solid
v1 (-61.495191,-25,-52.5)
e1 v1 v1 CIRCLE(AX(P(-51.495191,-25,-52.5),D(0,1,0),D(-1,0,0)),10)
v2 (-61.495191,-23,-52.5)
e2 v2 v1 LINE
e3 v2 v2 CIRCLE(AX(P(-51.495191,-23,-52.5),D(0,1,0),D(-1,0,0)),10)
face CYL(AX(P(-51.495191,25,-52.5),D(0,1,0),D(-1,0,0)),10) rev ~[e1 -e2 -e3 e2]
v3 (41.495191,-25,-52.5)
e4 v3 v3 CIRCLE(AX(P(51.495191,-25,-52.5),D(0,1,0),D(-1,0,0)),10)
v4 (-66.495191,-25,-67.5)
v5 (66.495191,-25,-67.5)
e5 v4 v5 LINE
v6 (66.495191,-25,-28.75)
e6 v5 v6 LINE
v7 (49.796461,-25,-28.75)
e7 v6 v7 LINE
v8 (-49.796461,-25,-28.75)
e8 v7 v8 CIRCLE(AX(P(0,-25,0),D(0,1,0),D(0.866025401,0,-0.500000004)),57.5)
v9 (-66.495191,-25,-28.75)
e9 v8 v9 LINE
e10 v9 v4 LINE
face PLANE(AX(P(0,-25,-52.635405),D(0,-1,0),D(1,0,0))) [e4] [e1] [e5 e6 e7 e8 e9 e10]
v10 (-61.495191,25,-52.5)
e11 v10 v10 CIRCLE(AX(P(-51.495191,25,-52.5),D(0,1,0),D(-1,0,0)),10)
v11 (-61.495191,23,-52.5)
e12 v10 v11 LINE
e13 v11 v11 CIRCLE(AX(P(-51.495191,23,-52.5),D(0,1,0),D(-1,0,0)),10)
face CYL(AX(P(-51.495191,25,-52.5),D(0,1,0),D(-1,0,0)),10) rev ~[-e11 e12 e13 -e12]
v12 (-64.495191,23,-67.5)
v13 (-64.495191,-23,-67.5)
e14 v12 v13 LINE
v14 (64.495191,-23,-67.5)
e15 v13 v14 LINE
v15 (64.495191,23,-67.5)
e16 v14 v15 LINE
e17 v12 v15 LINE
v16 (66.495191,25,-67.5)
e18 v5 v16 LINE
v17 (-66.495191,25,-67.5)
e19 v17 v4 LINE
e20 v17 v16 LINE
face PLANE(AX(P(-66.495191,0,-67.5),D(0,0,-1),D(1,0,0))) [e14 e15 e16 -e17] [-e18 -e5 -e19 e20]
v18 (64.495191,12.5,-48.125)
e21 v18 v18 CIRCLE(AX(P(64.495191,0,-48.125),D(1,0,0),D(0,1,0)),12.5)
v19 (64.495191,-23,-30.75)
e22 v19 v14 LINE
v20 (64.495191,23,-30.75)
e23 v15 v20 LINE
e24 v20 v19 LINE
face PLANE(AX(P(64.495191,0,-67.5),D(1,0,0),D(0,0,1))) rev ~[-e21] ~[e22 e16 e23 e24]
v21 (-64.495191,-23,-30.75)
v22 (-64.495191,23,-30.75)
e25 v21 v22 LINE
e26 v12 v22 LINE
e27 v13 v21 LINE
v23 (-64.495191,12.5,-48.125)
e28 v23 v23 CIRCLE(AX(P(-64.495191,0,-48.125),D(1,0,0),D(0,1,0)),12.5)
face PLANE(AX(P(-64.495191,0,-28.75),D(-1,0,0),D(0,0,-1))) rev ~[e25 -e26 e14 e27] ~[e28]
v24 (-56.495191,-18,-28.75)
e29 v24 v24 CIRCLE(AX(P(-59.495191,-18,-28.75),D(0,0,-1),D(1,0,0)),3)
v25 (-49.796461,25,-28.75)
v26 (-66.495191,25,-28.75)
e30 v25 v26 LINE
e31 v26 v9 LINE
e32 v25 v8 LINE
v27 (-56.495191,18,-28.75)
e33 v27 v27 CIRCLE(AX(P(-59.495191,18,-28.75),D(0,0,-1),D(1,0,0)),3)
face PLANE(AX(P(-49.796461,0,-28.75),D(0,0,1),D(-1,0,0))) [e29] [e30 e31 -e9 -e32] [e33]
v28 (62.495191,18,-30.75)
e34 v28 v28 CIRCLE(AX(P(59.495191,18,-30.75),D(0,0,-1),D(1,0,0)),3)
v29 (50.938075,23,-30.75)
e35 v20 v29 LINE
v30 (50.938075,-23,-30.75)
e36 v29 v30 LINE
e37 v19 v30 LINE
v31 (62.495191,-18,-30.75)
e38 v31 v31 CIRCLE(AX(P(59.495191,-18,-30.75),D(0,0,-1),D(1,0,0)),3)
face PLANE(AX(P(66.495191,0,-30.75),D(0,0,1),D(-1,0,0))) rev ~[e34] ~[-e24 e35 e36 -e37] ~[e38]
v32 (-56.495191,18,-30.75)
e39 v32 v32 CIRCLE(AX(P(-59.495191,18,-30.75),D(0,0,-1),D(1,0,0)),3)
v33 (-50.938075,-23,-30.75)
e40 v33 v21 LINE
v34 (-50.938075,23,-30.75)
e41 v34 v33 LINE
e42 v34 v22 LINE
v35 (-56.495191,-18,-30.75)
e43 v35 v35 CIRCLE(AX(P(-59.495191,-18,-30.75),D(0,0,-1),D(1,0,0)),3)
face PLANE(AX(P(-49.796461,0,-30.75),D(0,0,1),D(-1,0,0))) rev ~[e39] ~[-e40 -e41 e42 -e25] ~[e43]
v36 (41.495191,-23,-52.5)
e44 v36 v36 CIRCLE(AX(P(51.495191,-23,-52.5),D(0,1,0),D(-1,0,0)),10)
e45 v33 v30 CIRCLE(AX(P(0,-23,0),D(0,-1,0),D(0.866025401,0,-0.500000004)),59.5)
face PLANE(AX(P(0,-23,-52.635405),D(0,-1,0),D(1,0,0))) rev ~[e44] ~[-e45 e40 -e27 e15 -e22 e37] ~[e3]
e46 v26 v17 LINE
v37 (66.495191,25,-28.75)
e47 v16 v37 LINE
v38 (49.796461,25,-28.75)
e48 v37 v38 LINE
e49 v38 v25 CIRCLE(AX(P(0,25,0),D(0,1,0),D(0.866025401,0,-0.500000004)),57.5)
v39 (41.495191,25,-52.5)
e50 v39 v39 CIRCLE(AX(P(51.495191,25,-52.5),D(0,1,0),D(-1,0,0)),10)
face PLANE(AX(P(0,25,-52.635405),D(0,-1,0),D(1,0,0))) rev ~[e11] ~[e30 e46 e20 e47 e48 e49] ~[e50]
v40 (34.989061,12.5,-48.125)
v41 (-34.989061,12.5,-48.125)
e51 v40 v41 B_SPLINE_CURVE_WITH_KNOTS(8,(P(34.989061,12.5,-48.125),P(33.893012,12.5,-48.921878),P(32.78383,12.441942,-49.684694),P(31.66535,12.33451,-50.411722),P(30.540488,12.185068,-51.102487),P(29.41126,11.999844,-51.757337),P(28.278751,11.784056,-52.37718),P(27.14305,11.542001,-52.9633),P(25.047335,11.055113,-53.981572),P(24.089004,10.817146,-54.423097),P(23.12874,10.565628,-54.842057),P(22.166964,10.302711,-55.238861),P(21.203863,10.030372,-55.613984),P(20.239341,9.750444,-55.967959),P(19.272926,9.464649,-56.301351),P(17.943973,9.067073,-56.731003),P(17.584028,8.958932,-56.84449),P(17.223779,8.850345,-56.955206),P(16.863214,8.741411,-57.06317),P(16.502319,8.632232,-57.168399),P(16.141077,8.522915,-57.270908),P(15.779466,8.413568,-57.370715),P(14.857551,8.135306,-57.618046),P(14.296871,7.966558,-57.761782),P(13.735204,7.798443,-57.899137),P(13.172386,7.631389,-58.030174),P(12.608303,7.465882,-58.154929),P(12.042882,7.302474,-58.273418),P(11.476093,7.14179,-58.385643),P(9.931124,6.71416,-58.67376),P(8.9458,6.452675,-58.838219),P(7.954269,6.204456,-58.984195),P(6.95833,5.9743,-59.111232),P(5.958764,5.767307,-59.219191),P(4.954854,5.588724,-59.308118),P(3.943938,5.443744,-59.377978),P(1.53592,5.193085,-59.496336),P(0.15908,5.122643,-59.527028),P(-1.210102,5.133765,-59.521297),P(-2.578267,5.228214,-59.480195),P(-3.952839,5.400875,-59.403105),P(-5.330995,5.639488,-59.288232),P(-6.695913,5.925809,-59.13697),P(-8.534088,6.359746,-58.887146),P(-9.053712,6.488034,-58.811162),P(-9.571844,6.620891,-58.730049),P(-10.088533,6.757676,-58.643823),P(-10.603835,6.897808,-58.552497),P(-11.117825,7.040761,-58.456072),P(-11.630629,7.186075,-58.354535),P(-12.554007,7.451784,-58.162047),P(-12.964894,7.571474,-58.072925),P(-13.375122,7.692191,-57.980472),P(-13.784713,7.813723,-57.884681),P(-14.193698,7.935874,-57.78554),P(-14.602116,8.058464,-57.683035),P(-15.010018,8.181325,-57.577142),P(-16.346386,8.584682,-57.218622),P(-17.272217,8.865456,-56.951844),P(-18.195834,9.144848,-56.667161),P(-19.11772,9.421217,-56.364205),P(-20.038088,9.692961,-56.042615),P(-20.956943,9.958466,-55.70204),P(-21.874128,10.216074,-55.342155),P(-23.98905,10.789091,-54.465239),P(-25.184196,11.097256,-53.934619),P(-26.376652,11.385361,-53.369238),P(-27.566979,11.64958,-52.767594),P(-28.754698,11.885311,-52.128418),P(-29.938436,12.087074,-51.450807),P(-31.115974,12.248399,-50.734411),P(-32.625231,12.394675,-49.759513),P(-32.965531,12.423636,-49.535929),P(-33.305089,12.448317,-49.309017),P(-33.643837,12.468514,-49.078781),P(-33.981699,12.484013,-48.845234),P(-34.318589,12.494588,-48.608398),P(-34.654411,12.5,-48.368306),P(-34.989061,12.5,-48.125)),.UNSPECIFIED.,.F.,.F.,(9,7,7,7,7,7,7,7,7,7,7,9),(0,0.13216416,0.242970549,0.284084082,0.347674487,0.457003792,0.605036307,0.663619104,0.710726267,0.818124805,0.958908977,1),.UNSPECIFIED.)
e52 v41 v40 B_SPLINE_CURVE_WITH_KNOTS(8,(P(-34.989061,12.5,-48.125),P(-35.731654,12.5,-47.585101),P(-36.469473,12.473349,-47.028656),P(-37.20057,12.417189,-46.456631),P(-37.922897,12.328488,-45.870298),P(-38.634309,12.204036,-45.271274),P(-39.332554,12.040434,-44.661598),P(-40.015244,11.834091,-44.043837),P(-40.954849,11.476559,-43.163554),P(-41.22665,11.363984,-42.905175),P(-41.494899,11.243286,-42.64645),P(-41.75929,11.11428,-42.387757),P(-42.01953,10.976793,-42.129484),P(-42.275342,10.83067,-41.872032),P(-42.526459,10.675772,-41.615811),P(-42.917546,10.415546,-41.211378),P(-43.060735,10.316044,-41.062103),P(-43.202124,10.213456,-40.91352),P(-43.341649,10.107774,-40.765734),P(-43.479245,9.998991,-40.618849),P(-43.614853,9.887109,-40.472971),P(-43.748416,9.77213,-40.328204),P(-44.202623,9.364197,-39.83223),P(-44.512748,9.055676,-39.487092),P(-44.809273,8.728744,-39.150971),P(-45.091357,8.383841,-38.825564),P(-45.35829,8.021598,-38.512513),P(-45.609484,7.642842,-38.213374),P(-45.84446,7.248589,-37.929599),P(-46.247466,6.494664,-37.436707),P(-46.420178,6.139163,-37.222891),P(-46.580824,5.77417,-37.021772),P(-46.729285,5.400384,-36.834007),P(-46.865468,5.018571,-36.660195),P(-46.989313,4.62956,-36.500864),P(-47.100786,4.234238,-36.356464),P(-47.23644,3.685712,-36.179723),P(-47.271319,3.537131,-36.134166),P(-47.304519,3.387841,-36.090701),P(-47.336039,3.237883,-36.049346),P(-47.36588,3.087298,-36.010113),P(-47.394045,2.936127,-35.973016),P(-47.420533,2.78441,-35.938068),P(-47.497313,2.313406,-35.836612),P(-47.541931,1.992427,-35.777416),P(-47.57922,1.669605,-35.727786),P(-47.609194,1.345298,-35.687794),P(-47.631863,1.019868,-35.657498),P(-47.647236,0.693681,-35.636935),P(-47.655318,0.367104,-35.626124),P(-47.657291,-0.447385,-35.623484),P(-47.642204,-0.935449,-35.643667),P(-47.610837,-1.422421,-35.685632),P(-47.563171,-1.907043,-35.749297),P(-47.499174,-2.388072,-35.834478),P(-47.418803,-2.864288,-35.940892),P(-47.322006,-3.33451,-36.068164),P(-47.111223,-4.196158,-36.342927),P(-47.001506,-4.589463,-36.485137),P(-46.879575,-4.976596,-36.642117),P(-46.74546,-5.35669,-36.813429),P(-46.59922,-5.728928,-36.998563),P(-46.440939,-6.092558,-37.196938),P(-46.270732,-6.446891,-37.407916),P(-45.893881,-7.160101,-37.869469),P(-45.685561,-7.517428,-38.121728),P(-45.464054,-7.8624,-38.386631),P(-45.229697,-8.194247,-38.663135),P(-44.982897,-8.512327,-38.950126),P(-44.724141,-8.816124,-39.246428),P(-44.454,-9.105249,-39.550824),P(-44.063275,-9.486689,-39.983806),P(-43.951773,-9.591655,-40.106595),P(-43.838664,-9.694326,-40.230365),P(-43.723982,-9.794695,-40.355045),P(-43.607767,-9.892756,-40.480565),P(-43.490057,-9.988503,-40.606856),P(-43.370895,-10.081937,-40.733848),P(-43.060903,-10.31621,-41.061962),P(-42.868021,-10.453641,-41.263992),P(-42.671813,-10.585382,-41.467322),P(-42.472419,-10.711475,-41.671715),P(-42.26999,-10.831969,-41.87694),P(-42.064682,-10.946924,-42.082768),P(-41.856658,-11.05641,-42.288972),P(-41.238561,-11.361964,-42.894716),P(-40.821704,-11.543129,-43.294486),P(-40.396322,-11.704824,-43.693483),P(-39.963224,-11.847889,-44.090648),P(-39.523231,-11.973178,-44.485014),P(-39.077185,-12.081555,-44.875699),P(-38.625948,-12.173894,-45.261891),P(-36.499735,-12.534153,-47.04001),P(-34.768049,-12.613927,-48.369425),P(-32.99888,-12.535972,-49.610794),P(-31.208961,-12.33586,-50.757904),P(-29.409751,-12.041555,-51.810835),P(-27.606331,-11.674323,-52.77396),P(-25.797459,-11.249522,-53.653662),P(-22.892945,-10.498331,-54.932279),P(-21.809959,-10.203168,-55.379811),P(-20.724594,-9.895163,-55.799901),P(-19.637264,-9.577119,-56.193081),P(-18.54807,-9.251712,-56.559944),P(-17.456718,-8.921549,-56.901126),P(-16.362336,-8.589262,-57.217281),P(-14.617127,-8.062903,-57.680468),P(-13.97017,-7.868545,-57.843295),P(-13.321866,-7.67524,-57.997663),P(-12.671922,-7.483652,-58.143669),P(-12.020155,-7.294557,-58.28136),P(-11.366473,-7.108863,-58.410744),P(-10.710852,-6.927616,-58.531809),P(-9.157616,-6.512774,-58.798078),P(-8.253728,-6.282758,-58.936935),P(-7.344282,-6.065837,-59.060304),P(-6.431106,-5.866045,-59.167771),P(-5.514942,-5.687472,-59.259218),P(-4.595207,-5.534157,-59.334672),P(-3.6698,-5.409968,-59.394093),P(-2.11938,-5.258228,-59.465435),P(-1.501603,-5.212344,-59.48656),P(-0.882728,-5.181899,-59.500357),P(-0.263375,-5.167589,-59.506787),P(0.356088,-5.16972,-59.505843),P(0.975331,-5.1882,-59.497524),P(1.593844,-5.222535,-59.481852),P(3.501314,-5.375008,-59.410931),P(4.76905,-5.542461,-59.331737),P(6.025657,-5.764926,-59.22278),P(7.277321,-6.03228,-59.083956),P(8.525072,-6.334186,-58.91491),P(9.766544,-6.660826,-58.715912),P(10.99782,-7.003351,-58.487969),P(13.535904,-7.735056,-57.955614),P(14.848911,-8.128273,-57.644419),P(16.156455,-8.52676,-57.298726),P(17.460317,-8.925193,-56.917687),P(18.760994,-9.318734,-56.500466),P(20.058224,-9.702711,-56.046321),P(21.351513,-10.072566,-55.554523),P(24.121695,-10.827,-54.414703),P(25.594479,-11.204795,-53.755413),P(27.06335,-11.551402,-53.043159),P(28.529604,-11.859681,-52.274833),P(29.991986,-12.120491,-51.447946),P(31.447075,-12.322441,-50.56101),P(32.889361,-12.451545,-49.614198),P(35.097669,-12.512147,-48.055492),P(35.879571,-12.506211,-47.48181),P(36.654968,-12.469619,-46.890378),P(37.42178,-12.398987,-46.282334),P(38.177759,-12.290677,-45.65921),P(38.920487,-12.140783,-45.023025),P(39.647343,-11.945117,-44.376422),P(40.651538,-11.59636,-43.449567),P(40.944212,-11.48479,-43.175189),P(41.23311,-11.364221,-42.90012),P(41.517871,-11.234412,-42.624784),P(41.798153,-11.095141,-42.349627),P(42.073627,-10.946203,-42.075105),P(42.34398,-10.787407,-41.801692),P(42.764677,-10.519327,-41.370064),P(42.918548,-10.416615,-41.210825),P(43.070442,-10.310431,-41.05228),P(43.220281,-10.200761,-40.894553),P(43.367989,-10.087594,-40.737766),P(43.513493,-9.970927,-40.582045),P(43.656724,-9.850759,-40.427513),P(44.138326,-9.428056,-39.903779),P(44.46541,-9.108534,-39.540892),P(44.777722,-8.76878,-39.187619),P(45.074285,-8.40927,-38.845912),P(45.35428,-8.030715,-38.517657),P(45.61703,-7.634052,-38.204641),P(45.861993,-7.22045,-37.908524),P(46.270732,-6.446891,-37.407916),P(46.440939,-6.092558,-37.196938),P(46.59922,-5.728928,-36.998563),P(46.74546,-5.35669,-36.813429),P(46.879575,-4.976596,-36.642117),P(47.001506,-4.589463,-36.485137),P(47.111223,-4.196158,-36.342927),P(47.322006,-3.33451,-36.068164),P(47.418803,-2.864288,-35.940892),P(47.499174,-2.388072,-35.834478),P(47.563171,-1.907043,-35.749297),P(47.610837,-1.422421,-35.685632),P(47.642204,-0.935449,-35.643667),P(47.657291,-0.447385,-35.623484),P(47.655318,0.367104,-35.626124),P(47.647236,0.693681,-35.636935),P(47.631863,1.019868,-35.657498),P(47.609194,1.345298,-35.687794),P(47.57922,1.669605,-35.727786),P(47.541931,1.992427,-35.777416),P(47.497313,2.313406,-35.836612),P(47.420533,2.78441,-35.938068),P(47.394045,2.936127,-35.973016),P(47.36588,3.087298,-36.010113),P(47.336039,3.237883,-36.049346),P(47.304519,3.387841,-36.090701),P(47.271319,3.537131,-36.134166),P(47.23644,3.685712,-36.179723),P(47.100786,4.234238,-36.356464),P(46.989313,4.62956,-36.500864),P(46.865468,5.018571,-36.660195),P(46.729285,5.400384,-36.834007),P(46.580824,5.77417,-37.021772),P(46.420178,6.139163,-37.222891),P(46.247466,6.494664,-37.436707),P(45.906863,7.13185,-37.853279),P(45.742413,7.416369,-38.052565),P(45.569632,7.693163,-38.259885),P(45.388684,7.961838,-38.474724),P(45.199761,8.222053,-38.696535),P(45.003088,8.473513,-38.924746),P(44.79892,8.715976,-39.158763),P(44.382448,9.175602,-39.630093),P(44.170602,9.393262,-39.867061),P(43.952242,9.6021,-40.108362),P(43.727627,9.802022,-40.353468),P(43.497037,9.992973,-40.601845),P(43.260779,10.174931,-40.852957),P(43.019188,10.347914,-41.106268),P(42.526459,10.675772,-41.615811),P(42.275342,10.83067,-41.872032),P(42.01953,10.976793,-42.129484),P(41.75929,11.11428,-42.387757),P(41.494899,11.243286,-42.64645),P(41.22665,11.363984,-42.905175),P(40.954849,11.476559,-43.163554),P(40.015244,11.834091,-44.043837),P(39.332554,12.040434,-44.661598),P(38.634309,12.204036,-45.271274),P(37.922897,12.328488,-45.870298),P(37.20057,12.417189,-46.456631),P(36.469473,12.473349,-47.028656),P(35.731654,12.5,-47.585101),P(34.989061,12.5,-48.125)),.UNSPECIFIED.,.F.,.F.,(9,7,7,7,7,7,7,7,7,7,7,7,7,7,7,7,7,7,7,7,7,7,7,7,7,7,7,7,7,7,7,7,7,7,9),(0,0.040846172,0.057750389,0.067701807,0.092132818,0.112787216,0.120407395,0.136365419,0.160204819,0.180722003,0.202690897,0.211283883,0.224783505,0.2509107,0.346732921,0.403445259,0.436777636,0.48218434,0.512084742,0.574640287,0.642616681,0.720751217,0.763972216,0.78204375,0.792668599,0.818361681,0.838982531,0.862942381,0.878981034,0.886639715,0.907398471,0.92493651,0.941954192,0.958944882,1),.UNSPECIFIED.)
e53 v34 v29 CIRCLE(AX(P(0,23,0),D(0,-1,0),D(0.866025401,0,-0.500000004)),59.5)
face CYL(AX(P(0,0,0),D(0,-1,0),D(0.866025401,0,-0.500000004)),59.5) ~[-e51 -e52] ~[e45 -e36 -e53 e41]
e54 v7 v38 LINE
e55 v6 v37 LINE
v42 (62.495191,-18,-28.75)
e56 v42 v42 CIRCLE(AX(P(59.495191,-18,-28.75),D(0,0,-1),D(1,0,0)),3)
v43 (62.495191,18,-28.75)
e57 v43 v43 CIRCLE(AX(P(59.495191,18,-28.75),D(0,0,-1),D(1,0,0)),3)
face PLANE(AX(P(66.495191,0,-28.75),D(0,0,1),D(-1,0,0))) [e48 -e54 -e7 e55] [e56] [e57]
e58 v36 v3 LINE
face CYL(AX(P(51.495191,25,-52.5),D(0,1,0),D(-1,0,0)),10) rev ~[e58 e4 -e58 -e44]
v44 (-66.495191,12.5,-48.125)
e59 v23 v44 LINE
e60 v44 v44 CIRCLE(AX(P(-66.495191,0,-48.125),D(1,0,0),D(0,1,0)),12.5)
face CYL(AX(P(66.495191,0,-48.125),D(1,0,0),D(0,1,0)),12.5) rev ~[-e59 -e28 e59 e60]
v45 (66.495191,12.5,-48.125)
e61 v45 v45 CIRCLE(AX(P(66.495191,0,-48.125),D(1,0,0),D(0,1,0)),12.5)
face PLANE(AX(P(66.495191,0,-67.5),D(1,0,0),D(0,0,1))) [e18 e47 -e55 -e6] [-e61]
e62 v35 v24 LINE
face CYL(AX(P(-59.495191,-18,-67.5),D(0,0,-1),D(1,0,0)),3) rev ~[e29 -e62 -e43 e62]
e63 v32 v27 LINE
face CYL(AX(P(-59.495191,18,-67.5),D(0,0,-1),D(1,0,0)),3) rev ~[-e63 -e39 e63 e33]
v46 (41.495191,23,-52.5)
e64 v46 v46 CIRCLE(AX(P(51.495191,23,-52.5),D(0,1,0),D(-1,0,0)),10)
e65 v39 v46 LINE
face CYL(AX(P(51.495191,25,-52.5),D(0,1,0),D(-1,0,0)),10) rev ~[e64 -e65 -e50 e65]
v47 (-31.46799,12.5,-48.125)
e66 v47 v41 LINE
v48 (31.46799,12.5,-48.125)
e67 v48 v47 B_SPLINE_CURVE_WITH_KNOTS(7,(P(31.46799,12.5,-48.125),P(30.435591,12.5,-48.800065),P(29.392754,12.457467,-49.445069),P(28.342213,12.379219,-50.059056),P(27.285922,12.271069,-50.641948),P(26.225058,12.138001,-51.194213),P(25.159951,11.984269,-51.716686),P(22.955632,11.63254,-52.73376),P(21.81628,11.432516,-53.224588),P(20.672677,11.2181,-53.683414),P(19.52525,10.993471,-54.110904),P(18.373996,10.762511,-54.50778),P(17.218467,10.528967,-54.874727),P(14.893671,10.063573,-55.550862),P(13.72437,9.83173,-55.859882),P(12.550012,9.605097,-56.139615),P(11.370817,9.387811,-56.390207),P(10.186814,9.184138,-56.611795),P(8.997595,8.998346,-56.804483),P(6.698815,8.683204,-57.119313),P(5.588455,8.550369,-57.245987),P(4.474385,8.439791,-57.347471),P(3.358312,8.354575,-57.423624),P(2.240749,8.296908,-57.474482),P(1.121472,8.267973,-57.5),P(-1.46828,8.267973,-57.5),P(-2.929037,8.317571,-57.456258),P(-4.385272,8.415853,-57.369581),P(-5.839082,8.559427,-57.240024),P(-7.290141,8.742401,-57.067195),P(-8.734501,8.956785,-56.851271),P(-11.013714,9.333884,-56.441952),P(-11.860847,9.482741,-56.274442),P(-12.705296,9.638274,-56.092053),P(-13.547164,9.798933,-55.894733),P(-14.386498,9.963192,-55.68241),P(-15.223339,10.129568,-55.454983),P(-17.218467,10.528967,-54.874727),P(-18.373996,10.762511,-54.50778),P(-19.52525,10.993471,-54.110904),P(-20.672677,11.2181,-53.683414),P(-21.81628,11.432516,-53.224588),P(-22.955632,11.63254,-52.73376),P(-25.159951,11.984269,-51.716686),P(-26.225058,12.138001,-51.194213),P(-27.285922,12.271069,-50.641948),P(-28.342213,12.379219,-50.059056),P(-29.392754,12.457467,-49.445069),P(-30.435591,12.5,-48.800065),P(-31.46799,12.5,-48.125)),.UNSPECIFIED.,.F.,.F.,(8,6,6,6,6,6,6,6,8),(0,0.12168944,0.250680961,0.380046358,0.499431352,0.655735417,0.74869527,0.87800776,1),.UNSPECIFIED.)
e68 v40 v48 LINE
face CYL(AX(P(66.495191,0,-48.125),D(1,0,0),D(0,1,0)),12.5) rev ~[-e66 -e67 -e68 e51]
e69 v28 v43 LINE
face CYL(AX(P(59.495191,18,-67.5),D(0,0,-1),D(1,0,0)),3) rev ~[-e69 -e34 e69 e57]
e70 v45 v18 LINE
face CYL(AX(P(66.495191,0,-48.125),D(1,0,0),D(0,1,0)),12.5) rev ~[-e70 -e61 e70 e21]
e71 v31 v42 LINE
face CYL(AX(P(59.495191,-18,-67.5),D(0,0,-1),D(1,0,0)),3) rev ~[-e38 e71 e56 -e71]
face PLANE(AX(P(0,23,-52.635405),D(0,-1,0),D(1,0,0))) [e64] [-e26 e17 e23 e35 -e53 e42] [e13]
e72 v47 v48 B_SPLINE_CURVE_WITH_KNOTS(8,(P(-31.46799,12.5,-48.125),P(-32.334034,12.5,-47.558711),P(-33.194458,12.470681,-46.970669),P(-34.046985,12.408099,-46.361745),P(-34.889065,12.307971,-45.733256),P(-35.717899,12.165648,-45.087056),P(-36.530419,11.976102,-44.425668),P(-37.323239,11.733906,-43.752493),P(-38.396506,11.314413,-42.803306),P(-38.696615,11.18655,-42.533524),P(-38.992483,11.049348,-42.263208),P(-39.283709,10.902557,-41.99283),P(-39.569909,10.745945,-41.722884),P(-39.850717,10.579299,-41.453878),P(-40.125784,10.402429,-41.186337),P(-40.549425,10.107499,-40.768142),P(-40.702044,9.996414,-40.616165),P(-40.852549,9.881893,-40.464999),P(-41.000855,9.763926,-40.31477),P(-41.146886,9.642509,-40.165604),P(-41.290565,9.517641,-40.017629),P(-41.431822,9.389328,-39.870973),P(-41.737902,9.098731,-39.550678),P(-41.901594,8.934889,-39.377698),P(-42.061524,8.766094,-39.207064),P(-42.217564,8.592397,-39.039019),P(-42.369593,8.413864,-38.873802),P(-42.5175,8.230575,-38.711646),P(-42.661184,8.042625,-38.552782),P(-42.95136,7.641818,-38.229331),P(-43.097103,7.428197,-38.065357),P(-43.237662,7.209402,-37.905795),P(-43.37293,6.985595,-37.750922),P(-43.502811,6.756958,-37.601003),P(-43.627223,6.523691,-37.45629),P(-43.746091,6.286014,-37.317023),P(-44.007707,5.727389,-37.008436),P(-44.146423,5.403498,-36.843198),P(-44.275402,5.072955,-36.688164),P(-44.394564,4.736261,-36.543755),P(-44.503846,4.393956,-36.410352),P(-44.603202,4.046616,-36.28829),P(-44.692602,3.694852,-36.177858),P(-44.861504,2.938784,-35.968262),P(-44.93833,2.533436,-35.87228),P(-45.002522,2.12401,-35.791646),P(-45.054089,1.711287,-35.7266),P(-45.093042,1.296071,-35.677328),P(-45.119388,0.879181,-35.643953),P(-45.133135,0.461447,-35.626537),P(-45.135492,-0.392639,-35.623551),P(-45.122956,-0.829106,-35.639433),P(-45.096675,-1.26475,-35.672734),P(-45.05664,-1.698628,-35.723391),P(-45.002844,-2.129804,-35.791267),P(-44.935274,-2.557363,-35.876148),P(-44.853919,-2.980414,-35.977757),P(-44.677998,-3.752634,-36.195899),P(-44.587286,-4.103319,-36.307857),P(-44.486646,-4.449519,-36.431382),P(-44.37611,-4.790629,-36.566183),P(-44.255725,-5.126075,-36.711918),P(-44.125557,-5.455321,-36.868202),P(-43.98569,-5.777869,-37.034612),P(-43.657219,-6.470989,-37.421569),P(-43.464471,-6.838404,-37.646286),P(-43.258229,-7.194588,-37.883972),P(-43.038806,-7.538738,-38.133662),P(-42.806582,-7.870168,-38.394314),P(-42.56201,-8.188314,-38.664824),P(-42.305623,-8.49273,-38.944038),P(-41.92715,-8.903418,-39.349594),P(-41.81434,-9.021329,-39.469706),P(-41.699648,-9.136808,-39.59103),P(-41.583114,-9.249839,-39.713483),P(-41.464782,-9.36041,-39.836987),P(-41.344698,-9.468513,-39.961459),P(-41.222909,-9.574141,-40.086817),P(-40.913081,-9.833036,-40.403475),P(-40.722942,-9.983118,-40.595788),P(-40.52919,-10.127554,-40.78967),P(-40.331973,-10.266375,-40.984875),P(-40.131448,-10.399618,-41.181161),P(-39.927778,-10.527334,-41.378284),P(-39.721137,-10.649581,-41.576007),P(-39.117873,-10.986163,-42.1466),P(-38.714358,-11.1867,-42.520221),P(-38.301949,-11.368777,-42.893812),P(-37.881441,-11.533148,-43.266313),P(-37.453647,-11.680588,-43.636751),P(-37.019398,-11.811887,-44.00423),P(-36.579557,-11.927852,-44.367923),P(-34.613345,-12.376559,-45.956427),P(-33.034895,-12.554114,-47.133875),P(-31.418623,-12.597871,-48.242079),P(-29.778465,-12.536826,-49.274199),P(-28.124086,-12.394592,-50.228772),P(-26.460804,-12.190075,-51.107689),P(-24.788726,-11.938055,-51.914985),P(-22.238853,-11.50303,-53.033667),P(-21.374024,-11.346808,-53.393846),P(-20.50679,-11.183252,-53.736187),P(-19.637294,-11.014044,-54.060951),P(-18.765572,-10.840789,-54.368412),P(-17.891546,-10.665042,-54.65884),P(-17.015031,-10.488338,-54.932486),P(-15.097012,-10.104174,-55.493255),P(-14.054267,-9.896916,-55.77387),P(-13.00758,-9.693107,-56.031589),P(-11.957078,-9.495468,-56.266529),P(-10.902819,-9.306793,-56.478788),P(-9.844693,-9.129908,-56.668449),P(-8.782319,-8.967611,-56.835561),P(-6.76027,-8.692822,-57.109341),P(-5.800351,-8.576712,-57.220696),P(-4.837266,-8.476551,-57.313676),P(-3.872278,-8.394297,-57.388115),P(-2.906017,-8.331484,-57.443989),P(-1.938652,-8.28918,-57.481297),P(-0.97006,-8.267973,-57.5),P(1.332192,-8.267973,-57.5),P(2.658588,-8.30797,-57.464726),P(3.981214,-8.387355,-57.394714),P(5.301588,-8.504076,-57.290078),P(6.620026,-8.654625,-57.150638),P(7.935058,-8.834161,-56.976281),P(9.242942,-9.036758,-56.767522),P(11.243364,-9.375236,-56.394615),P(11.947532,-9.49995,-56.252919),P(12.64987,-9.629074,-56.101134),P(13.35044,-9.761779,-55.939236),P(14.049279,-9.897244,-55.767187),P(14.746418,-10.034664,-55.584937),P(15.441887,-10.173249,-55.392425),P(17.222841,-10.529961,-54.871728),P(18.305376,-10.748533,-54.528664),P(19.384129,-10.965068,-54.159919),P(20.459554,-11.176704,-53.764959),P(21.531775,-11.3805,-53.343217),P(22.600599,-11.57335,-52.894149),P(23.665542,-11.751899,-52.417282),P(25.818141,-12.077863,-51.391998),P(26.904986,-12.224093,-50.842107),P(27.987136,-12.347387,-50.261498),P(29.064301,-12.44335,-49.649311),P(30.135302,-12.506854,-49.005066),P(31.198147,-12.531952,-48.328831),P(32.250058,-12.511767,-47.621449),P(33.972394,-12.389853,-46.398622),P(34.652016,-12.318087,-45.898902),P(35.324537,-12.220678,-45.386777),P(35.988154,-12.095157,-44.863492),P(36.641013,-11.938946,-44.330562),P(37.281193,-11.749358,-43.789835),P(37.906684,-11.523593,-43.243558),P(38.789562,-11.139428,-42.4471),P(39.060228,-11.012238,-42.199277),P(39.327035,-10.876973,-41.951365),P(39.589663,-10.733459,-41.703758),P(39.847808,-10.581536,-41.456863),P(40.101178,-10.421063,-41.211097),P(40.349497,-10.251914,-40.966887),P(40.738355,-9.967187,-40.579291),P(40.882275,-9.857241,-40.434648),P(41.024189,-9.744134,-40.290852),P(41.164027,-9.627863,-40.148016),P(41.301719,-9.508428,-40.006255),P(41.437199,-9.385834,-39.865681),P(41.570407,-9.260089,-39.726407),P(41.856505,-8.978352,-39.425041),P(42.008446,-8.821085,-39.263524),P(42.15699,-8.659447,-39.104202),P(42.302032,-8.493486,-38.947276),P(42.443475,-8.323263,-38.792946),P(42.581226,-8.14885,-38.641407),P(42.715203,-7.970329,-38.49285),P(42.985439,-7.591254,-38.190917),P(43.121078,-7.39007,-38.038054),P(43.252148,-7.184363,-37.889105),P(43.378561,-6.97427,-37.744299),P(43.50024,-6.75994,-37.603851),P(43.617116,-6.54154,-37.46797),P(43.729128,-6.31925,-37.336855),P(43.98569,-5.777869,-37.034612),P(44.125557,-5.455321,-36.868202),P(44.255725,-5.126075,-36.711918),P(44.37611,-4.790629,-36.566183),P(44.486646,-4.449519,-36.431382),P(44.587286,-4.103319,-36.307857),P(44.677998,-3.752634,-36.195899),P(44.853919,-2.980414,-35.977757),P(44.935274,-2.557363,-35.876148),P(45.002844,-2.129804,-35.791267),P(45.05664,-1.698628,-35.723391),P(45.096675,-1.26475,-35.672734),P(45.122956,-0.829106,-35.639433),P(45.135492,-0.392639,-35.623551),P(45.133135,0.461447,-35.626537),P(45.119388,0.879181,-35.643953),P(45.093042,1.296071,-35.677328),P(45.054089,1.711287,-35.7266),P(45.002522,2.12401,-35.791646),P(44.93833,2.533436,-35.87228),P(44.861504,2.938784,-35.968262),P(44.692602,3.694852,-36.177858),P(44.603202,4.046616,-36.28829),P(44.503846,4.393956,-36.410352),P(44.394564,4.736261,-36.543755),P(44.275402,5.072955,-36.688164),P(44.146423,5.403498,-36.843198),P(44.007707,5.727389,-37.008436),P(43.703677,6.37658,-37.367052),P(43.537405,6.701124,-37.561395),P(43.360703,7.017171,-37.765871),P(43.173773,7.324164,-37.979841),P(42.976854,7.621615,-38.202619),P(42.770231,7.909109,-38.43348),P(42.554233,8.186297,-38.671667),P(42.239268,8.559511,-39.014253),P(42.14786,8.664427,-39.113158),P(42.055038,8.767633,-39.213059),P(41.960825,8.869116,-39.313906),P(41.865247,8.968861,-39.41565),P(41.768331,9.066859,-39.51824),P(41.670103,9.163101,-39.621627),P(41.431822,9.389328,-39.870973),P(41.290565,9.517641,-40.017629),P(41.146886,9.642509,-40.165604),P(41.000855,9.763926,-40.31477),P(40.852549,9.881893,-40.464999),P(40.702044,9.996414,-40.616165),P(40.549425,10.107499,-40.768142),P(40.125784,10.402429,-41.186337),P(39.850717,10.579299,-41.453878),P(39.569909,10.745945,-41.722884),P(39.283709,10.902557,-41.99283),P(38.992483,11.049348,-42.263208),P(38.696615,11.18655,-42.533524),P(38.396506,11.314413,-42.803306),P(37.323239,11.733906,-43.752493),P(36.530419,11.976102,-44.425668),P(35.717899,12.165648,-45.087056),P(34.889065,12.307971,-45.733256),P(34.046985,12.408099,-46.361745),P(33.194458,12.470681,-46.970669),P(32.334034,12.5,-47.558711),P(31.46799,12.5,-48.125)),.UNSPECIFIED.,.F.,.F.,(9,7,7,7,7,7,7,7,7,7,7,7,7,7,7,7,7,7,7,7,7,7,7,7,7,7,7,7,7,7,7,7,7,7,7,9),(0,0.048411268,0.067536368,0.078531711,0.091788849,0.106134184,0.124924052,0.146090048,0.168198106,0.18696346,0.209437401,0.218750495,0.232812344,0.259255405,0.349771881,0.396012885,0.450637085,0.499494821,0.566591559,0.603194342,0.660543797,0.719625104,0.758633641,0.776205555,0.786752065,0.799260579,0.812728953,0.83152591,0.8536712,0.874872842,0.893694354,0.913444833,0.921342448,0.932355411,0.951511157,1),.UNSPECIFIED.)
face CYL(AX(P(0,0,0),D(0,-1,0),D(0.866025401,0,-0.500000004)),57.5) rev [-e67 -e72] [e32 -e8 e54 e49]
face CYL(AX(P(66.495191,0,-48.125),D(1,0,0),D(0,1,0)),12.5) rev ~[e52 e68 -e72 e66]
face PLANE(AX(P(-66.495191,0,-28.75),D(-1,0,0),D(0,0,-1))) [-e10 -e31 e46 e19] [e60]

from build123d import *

# Parameters (mm, degrees)
F1_DEPTH      = 25
F1_DEPTH_BACK = 25
F2_T          = -2
F3_R          = 3
F4_DEPTH      = 73
F6_R          = 12.5
F7_DEPTH      = 142.6
F8_R          = 10
F9_DEPTH      = 5
F9_DEPTH_BACK = 60


with BuildPart() as f1:
    # F0 (on Front) → F1 (new body, two sides)
    with BuildSketch(Plane.XZ) as f1_sk:
        with BuildLine():
            ThreePointArc((49.796461, -28.75), (0, -57.5), (-49.796461, -28.75))
            Line((-49.796461, -28.75), (-61.038751, -28.75))
            Line((-61.038751, -28.75), (-66.495191, -28.75))
            Line((-66.495191, -28.75), (-66.495191, -67.5))
            Line((-66.495191, -67.5), (-49.796461, -67.5))
            Line((-49.796461, -67.5), (-43.30127, -67.5))
            Line((-43.30127, -67.5), (0, -67.5))
            Line((0, -67.5), (43.30127, -67.5))
            Line((43.30127, -67.5), (66.495191, -67.5))
            Line((66.495191, -67.5), (66.495191, -28.75))
            Line((66.495191, -28.75), (49.796461, -28.75))
        make_face()
    extrude(amount=F1_DEPTH)
    extrude(f1_sk.sketch, amount=-F1_DEPTH_BACK)

    # F2
    f2_openings = [f1.faces().sort_by_distance(p)[0] for p in [
        (0, 0, -67.5),
    ]]
    offset(amount=F2_T, openings=f2_openings)

    # F3 (on face) → F4 (cut)
    with BuildSketch(Plane(origin=(0, 0, -67.5), x_dir=(1, 0, 0), z_dir=(0, 0, -1))):
        with Locations((59.495191, 18)):
            Circle(F3_R)
        with Locations((-59.495191, 18)):
            Circle(F3_R)
        with Locations((59.495191, -18)):
            Circle(F3_R)
        with Locations((-59.495191, -18)):
            Circle(F3_R)
    extrude(amount=-F4_DEPTH, mode=Mode.SUBTRACT)

    # F6 (on face) → F7 (cut)
    with BuildSketch(Plane.YZ.offset(66.495191)):
        with Locations((0, -48.125)):
            Circle(F6_R)
    extrude(amount=-F7_DEPTH, mode=Mode.SUBTRACT)

    # F8 (on face) → F9 (cut, two sides)
    with BuildSketch(Plane(origin=(0, 25, 0), x_dir=(-1, 0, 0), z_dir=(0, 1, 0))) as f9_sk:
        with Locations((-51.495191, -52.5)):
            Circle(F8_R)
        with Locations((51.495191, -52.5)):
            Circle(F8_R)
    extrude(amount=F9_DEPTH, mode=Mode.SUBTRACT)
    extrude(f9_sk.sketch, amount=-F9_DEPTH_BACK, mode=Mode.SUBTRACT)


solid = f1.part
